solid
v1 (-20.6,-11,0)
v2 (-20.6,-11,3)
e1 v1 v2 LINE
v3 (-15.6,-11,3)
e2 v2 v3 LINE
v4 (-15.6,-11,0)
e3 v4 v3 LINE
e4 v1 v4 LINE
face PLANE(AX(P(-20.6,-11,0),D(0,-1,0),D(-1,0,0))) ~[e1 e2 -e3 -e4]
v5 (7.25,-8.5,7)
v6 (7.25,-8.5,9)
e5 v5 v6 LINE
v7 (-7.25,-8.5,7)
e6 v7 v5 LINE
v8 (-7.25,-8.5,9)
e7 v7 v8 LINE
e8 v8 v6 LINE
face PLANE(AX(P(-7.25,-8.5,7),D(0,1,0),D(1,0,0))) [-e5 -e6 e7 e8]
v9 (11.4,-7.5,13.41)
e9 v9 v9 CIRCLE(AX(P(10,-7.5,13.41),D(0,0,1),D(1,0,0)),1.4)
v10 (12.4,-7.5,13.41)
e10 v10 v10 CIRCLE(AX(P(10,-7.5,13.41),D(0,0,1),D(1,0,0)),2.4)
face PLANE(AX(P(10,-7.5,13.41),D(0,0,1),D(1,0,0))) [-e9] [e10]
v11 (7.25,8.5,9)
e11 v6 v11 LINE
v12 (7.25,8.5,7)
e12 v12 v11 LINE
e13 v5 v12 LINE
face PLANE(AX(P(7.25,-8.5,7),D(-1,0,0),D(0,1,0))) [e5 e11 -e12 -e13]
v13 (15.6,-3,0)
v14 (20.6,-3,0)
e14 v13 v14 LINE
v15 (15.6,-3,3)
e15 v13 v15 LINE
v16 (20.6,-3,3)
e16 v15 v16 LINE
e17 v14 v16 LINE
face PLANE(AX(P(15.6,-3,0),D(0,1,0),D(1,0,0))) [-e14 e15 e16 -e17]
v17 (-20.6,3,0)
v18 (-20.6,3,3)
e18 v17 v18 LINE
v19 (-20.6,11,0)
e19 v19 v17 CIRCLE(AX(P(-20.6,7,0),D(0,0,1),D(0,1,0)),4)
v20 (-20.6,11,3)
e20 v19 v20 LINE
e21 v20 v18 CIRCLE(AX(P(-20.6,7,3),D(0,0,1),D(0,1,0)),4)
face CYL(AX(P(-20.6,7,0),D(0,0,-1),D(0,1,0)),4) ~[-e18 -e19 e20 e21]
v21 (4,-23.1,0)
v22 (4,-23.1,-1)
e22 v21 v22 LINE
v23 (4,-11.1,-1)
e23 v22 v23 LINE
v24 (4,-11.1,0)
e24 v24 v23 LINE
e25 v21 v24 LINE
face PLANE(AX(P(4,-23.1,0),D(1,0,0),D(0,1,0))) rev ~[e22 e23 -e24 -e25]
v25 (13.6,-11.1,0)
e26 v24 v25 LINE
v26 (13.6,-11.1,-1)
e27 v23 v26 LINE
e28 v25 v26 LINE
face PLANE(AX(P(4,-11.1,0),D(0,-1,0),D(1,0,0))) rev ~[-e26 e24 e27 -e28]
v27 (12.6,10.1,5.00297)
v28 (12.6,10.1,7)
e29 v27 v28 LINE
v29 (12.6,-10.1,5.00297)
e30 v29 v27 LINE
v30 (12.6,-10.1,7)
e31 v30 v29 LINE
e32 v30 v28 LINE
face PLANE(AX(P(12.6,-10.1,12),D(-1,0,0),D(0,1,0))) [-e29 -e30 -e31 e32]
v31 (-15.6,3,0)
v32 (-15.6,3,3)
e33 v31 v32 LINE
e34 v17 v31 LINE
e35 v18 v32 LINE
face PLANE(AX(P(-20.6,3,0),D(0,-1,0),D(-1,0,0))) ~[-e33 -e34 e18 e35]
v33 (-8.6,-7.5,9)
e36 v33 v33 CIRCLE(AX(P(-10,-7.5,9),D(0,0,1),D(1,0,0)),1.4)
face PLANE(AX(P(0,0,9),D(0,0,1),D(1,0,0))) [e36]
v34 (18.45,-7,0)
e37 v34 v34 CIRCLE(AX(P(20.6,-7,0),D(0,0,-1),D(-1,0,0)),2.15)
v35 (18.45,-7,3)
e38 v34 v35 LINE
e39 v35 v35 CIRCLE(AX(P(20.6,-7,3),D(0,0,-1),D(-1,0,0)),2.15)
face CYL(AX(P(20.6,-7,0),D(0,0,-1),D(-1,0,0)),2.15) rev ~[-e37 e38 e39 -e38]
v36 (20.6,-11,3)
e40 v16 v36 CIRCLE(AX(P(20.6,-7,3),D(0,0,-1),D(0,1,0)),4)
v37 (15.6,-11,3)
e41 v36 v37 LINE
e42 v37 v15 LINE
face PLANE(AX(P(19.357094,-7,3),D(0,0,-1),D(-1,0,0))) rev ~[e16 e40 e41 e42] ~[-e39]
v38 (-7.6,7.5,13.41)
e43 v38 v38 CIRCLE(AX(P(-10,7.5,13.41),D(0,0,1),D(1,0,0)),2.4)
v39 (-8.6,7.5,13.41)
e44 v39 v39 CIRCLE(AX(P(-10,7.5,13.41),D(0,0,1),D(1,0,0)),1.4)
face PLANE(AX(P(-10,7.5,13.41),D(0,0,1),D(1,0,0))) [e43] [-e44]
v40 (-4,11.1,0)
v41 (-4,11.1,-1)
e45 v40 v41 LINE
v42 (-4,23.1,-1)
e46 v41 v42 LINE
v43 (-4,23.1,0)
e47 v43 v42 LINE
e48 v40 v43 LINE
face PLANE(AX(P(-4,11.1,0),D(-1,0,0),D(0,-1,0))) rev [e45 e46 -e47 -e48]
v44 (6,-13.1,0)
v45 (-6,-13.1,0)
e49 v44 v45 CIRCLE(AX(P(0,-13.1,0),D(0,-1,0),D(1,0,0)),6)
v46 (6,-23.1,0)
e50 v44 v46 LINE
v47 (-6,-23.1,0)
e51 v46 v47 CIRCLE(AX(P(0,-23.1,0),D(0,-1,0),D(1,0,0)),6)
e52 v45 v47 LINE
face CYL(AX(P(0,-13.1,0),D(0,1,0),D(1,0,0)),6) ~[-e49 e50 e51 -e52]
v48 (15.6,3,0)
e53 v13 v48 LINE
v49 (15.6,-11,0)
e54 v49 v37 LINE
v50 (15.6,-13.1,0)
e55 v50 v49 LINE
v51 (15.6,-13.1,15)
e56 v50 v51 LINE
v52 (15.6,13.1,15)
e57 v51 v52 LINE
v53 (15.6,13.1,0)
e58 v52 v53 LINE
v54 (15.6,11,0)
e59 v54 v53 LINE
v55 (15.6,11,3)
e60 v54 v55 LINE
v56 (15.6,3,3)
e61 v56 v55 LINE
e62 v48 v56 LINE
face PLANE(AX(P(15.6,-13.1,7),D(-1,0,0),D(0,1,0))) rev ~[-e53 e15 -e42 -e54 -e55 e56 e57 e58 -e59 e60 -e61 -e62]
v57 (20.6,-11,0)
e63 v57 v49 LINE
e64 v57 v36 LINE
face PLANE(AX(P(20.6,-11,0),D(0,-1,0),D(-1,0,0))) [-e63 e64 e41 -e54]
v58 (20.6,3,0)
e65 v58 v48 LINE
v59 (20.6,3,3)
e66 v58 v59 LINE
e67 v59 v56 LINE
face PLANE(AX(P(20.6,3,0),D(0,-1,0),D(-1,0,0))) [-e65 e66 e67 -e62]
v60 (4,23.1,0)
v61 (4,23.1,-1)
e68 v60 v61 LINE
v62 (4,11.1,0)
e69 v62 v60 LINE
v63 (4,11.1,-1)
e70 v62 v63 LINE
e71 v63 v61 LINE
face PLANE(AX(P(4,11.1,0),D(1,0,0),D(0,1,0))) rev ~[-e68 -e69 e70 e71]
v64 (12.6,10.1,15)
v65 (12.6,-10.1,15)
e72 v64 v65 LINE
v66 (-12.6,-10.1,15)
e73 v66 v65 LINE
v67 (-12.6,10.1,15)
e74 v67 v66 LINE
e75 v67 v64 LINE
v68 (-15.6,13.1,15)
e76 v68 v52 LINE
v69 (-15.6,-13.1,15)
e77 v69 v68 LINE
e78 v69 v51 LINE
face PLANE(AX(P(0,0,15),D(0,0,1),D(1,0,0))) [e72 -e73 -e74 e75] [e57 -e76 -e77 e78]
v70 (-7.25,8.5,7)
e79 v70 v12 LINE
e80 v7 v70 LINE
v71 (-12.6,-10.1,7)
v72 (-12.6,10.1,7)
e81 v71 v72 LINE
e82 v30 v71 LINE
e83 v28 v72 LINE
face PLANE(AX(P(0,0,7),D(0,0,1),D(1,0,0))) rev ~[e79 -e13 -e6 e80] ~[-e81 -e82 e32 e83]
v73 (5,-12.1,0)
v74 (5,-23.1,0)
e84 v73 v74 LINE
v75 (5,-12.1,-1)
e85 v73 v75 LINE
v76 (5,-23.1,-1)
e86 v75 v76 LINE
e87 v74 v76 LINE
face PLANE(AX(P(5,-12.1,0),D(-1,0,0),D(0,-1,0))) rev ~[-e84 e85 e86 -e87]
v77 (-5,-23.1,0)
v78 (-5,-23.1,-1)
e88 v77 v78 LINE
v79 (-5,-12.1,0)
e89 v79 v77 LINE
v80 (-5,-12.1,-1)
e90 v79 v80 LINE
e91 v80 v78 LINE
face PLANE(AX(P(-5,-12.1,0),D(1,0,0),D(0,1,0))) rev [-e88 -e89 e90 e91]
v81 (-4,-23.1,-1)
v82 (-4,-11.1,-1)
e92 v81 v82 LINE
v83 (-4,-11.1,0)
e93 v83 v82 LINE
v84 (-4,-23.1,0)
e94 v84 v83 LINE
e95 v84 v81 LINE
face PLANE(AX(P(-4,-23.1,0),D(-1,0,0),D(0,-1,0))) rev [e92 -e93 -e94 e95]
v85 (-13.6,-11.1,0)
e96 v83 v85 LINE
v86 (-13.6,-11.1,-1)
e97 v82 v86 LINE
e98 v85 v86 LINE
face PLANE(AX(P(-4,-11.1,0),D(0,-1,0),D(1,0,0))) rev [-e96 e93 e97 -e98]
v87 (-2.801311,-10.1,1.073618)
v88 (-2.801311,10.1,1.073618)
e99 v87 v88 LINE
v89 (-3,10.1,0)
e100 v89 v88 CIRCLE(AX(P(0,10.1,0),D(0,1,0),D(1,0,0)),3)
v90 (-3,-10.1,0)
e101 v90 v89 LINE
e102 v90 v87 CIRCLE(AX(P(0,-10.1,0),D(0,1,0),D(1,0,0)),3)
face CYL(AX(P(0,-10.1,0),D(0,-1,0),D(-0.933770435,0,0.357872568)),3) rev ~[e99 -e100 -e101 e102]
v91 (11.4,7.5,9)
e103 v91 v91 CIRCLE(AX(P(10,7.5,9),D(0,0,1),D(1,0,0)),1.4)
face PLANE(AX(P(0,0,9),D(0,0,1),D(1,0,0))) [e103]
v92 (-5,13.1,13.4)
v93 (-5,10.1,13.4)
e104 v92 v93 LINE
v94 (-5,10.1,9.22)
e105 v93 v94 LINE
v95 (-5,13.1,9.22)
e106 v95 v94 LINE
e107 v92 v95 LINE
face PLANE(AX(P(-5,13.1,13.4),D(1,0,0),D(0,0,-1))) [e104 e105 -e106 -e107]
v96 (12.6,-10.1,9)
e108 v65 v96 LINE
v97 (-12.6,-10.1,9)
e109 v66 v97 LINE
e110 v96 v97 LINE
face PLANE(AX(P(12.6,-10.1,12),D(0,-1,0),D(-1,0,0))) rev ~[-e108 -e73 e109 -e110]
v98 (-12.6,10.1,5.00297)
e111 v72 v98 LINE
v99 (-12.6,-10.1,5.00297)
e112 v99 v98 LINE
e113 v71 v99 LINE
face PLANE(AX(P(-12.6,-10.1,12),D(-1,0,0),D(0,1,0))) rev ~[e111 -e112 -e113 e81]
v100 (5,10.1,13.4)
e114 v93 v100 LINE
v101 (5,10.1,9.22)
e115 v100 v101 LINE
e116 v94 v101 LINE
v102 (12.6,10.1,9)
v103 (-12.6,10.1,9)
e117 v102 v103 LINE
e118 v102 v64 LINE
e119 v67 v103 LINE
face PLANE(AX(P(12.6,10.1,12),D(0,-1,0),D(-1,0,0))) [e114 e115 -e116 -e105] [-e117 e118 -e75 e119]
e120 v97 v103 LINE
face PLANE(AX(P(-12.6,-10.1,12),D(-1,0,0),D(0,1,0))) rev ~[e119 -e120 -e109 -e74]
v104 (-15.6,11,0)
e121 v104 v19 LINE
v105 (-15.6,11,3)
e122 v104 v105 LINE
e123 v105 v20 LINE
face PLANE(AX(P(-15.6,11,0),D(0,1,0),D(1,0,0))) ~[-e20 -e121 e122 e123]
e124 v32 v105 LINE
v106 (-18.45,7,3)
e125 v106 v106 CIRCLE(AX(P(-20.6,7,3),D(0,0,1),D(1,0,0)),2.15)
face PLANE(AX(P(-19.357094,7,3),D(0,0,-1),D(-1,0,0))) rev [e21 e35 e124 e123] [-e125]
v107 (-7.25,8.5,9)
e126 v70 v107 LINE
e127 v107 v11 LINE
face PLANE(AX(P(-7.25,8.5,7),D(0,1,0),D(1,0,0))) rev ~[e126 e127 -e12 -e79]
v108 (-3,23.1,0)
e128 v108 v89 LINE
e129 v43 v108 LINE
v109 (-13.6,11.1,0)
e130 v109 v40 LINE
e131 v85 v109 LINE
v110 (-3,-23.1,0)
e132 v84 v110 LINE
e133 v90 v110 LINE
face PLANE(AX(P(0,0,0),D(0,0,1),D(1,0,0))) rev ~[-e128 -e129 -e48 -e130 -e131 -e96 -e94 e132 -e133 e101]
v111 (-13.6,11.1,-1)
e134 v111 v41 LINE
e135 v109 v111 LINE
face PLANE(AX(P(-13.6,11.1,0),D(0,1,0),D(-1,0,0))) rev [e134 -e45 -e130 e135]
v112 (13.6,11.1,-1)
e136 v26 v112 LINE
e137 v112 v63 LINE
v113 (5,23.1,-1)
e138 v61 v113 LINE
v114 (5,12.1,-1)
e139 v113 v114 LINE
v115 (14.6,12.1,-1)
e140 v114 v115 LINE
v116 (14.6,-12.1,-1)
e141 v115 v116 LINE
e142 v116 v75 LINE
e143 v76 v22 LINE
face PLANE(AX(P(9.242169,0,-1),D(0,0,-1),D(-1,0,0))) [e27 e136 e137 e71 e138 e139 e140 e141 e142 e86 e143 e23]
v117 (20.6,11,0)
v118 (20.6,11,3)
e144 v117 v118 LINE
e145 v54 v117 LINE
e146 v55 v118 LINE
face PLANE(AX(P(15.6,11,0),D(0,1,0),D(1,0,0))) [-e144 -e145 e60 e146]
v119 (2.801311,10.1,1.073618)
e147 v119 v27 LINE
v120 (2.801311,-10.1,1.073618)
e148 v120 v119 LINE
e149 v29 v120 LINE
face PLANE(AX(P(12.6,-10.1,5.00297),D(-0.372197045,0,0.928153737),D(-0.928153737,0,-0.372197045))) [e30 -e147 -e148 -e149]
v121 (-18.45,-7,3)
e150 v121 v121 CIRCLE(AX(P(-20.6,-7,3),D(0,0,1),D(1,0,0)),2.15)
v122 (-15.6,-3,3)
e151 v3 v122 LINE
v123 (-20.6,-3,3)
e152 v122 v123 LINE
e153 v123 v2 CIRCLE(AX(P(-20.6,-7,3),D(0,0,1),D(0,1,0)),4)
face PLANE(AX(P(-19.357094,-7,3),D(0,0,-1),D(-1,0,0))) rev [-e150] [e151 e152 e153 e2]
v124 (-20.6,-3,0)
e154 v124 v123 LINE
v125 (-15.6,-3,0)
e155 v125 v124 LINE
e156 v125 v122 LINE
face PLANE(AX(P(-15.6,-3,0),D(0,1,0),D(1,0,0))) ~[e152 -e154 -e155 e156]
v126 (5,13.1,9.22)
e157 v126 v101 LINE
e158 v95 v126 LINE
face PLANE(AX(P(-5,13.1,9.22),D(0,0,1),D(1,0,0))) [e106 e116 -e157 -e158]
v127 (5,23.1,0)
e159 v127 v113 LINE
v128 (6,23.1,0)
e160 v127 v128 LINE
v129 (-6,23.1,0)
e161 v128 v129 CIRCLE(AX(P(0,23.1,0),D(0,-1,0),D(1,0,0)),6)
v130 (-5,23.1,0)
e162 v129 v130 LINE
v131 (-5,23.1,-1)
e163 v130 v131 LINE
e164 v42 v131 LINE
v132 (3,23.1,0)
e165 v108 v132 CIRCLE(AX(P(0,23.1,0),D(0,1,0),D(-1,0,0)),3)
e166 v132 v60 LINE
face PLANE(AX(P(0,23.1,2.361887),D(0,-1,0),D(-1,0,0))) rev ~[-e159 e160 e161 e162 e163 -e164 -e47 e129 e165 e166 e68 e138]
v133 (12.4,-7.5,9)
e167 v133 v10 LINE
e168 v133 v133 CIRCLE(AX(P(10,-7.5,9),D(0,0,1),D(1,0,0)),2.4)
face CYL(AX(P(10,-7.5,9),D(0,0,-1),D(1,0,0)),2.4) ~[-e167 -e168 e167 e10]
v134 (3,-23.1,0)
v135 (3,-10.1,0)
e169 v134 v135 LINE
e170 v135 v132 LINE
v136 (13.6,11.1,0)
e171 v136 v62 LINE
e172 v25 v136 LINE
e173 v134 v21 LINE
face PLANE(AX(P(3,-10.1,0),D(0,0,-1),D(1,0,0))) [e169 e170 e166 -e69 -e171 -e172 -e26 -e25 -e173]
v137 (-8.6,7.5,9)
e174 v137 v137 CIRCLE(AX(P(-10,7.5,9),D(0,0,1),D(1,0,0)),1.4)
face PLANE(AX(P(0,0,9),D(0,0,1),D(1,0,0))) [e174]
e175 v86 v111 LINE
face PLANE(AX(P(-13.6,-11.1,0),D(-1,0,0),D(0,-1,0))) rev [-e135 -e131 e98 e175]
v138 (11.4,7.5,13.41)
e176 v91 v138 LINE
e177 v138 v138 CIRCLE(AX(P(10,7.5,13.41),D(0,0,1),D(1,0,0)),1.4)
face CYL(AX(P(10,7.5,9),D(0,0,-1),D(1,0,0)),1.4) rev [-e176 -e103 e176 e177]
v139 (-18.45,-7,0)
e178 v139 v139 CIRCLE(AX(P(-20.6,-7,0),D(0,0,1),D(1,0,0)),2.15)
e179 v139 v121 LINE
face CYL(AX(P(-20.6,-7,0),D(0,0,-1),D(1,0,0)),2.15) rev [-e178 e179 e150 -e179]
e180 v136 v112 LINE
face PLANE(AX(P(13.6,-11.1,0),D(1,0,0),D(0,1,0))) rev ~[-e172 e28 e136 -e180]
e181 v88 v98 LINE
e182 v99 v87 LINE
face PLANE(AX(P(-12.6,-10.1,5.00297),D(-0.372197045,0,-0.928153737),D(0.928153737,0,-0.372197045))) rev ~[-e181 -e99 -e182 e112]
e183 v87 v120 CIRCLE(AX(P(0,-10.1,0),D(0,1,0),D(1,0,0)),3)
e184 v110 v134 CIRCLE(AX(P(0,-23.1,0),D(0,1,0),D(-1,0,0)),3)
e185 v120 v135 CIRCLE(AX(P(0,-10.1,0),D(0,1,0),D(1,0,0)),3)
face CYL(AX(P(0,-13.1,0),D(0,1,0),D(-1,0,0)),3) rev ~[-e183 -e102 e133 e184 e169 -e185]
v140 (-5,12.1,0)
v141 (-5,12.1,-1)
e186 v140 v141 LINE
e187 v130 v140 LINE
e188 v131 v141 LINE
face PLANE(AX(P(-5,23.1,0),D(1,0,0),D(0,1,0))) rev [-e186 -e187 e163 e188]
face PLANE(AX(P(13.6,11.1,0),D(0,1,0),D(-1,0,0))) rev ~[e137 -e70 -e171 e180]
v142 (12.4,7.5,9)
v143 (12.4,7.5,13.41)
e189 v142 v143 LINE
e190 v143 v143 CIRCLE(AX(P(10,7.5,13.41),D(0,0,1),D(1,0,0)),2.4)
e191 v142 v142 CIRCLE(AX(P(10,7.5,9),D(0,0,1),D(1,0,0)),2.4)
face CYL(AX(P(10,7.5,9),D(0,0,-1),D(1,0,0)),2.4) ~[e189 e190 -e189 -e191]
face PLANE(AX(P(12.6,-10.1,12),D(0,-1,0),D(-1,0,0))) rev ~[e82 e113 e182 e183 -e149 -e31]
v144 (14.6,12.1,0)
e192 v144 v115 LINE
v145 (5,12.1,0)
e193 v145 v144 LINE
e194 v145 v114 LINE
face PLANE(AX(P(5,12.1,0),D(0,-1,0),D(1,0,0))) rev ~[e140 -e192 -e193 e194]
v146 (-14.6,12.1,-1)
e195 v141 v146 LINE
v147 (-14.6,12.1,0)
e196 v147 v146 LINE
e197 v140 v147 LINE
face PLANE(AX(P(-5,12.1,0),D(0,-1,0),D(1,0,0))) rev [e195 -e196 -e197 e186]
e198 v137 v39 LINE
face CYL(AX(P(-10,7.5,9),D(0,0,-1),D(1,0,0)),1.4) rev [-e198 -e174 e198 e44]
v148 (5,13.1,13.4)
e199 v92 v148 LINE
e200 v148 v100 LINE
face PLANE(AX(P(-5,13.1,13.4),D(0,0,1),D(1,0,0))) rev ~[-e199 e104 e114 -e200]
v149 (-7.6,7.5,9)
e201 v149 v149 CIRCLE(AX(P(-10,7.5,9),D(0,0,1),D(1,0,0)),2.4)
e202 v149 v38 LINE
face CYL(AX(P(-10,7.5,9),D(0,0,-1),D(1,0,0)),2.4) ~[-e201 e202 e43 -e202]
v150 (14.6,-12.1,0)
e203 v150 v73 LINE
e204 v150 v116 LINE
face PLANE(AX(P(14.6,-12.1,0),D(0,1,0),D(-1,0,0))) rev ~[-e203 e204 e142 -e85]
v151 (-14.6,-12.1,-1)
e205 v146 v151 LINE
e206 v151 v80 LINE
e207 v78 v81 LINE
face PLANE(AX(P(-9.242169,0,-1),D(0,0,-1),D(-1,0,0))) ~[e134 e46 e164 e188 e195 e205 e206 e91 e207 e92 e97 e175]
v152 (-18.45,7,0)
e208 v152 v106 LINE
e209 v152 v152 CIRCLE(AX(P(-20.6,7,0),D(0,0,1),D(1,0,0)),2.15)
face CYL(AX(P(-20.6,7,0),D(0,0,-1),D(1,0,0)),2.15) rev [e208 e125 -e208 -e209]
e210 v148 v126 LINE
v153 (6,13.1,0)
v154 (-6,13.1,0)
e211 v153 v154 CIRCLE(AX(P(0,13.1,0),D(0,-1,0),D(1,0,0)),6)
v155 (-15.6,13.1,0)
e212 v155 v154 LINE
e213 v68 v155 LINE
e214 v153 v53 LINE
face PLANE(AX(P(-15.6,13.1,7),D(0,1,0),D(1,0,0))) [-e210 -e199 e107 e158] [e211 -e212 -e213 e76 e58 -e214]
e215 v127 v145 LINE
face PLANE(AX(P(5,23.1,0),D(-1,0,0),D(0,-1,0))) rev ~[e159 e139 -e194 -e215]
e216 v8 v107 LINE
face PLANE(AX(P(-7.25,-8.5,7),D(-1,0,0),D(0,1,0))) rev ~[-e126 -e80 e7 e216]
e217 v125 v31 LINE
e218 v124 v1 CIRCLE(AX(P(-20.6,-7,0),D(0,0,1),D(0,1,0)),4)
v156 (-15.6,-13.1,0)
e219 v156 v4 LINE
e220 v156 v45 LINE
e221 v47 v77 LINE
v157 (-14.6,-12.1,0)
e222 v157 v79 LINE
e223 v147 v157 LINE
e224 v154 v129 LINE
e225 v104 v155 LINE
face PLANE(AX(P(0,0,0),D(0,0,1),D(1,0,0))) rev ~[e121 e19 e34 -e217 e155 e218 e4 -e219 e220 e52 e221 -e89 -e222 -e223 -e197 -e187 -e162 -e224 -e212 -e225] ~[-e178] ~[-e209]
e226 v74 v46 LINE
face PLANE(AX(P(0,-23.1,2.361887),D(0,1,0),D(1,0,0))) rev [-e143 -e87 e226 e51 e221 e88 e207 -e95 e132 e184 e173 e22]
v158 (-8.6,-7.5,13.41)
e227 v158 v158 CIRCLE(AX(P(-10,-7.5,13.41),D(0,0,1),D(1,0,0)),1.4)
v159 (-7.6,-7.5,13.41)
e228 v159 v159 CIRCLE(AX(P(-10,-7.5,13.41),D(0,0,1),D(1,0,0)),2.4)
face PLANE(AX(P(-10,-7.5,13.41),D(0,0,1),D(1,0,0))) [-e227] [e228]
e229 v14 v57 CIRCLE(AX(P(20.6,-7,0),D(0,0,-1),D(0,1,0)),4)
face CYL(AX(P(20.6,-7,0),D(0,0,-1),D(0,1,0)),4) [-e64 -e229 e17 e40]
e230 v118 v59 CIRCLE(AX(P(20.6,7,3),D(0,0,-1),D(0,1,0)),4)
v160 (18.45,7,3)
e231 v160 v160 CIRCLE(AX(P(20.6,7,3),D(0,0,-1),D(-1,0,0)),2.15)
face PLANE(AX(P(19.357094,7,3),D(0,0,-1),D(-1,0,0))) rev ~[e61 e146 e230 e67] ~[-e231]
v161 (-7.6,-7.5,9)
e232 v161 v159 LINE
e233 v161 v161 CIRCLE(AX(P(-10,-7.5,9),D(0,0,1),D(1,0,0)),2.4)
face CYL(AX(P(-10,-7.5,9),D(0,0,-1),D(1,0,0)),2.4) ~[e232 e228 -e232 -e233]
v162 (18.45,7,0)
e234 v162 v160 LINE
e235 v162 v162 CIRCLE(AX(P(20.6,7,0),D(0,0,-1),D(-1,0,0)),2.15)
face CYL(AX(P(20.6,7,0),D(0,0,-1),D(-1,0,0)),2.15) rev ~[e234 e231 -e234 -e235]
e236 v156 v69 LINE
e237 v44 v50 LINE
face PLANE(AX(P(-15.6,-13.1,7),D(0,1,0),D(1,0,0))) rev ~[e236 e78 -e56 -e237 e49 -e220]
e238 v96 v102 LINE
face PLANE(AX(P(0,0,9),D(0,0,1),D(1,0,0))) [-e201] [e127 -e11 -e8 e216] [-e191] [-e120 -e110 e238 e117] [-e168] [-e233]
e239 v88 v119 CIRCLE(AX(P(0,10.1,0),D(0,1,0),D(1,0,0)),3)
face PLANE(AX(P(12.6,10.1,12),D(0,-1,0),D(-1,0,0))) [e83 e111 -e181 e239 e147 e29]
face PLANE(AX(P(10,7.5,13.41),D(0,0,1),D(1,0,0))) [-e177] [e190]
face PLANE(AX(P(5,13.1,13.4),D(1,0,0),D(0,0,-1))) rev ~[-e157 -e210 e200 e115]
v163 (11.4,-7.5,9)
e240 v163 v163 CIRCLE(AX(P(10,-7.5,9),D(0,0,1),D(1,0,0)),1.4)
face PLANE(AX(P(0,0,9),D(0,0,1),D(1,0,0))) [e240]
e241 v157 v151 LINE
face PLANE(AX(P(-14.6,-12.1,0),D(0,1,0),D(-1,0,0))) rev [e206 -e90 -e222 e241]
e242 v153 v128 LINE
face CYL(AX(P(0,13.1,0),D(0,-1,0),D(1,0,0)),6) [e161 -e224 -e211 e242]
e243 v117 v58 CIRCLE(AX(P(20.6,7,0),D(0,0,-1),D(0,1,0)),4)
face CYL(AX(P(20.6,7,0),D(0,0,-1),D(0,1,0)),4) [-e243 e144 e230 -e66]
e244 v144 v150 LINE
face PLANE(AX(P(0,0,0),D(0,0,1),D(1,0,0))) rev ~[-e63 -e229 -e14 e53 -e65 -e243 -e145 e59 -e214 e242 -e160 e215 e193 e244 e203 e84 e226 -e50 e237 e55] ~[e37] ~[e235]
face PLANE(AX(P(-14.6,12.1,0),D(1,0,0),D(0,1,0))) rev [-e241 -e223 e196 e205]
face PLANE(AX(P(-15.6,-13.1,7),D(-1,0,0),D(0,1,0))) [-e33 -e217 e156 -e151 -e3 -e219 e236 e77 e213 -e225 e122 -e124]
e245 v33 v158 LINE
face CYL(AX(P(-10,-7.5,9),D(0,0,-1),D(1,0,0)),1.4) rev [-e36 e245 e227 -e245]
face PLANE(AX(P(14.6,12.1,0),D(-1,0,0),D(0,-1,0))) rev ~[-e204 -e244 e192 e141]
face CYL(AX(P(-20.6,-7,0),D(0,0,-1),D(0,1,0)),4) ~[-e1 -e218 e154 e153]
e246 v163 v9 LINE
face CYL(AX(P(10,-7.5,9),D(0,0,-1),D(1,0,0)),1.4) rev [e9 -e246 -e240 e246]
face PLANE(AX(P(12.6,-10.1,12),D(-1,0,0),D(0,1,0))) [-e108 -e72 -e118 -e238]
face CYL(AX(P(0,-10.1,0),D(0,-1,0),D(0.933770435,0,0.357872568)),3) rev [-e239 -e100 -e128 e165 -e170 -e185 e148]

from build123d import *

# Parameters (mm, degrees)
SKETCH1_W            = 31.2
SKETCH1_H            = 26.2
BOSS_EXTRUDE1_DEPTH  = 15
SHELL2_T             = -3
BOSS_EXTRUDE2_DEPTH  = 10
CUT_EXTRUDE2_DEPTH   = 43.175822458
SKETCH8_R            = 2.15
BOSS_EXTRUDE5_DEPTH  = 3
BOSS_EXTRUDE4_DEPTH  = 1
SKETCH14_W           = 25.2
SKETCH14_H           = 20.2
CUT_EXTRUDE5_DEPTH   = 37.163102743
BOSS_EXTRUDE8_REACH  = 45.959
BOSS_EXTRUDE9_START  = -8
SKETCH15_W           = 31.2
SKETCH15_H           = 26.2
SKETCH15_W_2         = 14.5
SKETCH15_H_2         = 17
BOSS_EXTRUDE9_DEPTH  = 2
SKETCH16_R           = 2.4
SKETCH16_R_2         = 1.4
BOSS_EXTRUDE10_DEPTH = 4.41
CUT_EXTRUDE6_REACH   = 48.267
SKETCH5_W            = 10
SKETCH5_H            = 4.18


with BuildPart() as part:
    # Sketch1 → Boss-Extrude1 (new body)
    with BuildSketch(Plane.XY):
        Rectangle(SKETCH1_W, SKETCH1_H)
    extrude(amount=BOSS_EXTRUDE1_DEPTH)

    # Shell2
    shell2_openings = [part.faces().sort_by_distance(p)[0] for p in [
        (0, 0, 0),
    ]]
    offset(amount=SHELL2_T, openings=shell2_openings, kind=Kind.INTERSECTION)

    # Sketch3 → Boss-Extrude2 (add)
    with BuildSketch(Plane(origin=(0, 13.1, 0), x_dir=(1, 0, 0), z_dir=(0, 1, 0))):
        with BuildLine():
            Line((-6, 0), (-3, 0))
            ThreePointArc((-3, 0), (0, -3), (3, 0))
            Line((3, 0), (6, 0))
            ThreePointArc((6, 0), (0, -6), (-6, 0))
        make_face()
    boss_extrude2 = extrude(amount=BOSS_EXTRUDE2_DEPTH)

    # Mirror1: Boss-Extrude2 across plane
    add(boss_extrude2.mirror(Plane.ZX))

    # Sketch4 → Cut-Extrude2 (cut, through all)
    with BuildSketch(Plane(origin=(0, 13.1, 0), x_dir=(1, 0, 0), z_dir=(0, 1, 0))):
        with BuildLine():
            Line((-3, 0), (3, 0))
            ThreePointArc((3, 0), (0, -3), (-3, 0))
        make_face()
    extrude(amount=-CUT_EXTRUDE2_DEPTH, mode=Mode.SUBTRACT)

    # Sketch8 → Boss-Extrude5 (add)
    # profile 1 of 2: a face of its own
    with BuildSketch(Plane(origin=(0, 0, 0), x_dir=(-1, 0, 0), z_dir=(0, 0, -1))):
        with BuildLine():
            Line((-15.6, 3), (-15.6, 11))
            Line((-15.6, 11), (-20.6, 11))
            ThreePointArc((-20.6, 11), (-24.6, 7), (-20.6, 3))
            Line((-20.6, 3), (-15.6, 3))
        make_face()
        with Locations((-20.6, 7)):
            Circle(SKETCH8_R, mode=Mode.SUBTRACT)
    # profile 2 of 2: a face of its own
    with BuildSketch(Plane(origin=(0, 0, 0), x_dir=(-1, 0, 0), z_dir=(0, 0, -1))):
        with BuildLine():
            Line((-15.6, -11), (-15.6, -3))
            Line((-15.6, -3), (-20.6, -3))
            ThreePointArc((-20.6, -3), (-24.6, -7), (-20.6, -11))
            Line((-20.6, -11), (-15.6, -11))
        make_face()
        with Locations((-20.6, -7)):
            Circle(SKETCH8_R, mode=Mode.SUBTRACT)
    boss_extrude5 = extrude(amount=-BOSS_EXTRUDE5_DEPTH)

    # Mirror3: Boss-Extrude5 across plane
    add(boss_extrude5.mirror(Plane(origin=(0, 0, 0), x_dir=(0, 0, 1), z_dir=(1, 0, 0))))

    # Sketch7 → Boss-Extrude4 (add)
    with BuildSketch(Plane(origin=(0, 0, 0), x_dir=(-1, 0, 0), z_dir=(0, 0, -1))):
        Polygon((-4, -23.1), (-4, -11.1), (-13.6, -11.1), (-13.6, 11.1), (-4, 11.1), (-4, 23.1), (-5, 23.1), (-5, 12.1), (-14.6, 12.1), (-14.6, -12.1), (-5, -12.1), (-5, -23.1), align=None)
    boss_extrude4 = extrude(amount=BOSS_EXTRUDE4_DEPTH)

    # Mirror2: Boss-Extrude4 across plane
    add(boss_extrude4.mirror(Plane(origin=(0, 0, 0), x_dir=(0, 0, 1), z_dir=(1, 0, 0))))

    # Sketch14 → Cut-Extrude5 (cut, through all)
    with BuildSketch(Plane(origin=(0, 0, 12), x_dir=(-1, 0, 0), z_dir=(0, 0, -1))):
        Rectangle(SKETCH14_W, SKETCH14_H)
    extrude(amount=-CUT_EXTRUDE5_DEPTH, mode=Mode.SUBTRACT)

    # Sketch11 → Boss-Extrude8 (add, up to next)
    with BuildSketch(Plane(origin=(0, -10.1, 0), x_dir=(1, 0, 0), z_dir=(0, 1, 0)), mode=Mode.PRIVATE) as boss_extrude8_sk1:
        with BuildLine():
            Line((3, 0), (12.6, 0))
            Line((12.6, 0), (12.6, -5.002969955))
            Line((12.6, -5.002969955), (2.801311304, -1.073617705))
            ThreePointArc((2.801311304, -1.073617705), (2.949909652, -0.545924027), (3, 0))
        make_face()
    boss_extrude8_tool1 = extrude(boss_extrude8_sk1.sketch, amount=BOSS_EXTRUDE8_REACH, mode=Mode.PRIVATE) - part.part
    # Sketch11 → Boss-Extrude8 (add, up to next)
    with BuildSketch(Plane(origin=(0, -10.1, 0), x_dir=(1, 0, 0), z_dir=(0, 1, 0)), mode=Mode.PRIVATE) as boss_extrude8_sk2:
        with BuildLine():
            Line((-12.6, -5.002969955), (-2.801311304, -1.073617705))
            ThreePointArc((-2.801311304, -1.073617705), (-2.949909652, -0.545924027), (-3, 0))
            Line((-3, 0), (-12.6, 0))
            Line((-12.6, 0), (-12.6, -5.002969955))
        make_face()
    boss_extrude8_tool2 = extrude(boss_extrude8_sk2.sketch, amount=BOSS_EXTRUDE8_REACH, mode=Mode.PRIVATE) - part.part
    add(boss_extrude8_tool1.solids().sort_by_distance((8.785084, -10.1, 1.737296))[0])
    add(boss_extrude8_tool2.solids().sort_by_distance((-8.785084, -10.1, 1.737296))[0])

    # Sketch15 → Boss-Extrude9 (add)
    with BuildSketch(Plane.XY.offset(15).offset(BOSS_EXTRUDE9_START)):
        Rectangle(SKETCH15_W, SKETCH15_H)
        Rectangle(SKETCH15_W_2, SKETCH15_H_2, mode=Mode.SUBTRACT)
    extrude(amount=BOSS_EXTRUDE9_DEPTH)

    # Sketch16 → Boss-Extrude10 (add)
    # profile 1 of 4: a face of its own
    with BuildSketch(Plane.XY.offset(9)):
        with Locations((-10, 7.5)):
            Circle(SKETCH16_R)
        with Locations((-10, 7.5)):
            Circle(SKETCH16_R_2, mode=Mode.SUBTRACT)
    # profile 2 of 4: a face of its own
    with BuildSketch(Plane.XY.offset(9)):
        with Locations((10, 7.5)):
            Circle(SKETCH16_R)
        with Locations((10, 7.5)):
            Circle(SKETCH16_R_2, mode=Mode.SUBTRACT)
    # profile 3 of 4: a face of its own
    with BuildSketch(Plane.XY.offset(9)):
        with Locations((-10, -7.5)):
            Circle(SKETCH16_R)
        with Locations((-10, -7.5)):
            Circle(SKETCH16_R_2, mode=Mode.SUBTRACT)
    # profile 4 of 4: a face of its own
    with BuildSketch(Plane.XY.offset(9)):
        with Locations((10, -7.5)):
            Circle(SKETCH16_R)
        with Locations((10, -7.5)):
            Circle(SKETCH16_R_2, mode=Mode.SUBTRACT)
    extrude(amount=BOSS_EXTRUDE10_DEPTH)

    # Sketch5 → Cut-Extrude6 (cut, up to next)
    with BuildSketch(Plane(origin=(0, 13.1, 0), x_dir=(1, 0, 0), z_dir=(0, 1, 0)), mode=Mode.PRIVATE) as cut_extrude6_sk1:
        with Locations((0, -11.31)):
            Rectangle(SKETCH5_W, SKETCH5_H)
    cut_extrude6_tool1 = extrude(cut_extrude6_sk1.sketch, amount=-CUT_EXTRUDE6_REACH, mode=Mode.PRIVATE) & part.part
    add(cut_extrude6_tool1.solids().sort_by_distance((0, 13.1, 11.31))[0], mode=Mode.SUBTRACT)


solid = part.part
